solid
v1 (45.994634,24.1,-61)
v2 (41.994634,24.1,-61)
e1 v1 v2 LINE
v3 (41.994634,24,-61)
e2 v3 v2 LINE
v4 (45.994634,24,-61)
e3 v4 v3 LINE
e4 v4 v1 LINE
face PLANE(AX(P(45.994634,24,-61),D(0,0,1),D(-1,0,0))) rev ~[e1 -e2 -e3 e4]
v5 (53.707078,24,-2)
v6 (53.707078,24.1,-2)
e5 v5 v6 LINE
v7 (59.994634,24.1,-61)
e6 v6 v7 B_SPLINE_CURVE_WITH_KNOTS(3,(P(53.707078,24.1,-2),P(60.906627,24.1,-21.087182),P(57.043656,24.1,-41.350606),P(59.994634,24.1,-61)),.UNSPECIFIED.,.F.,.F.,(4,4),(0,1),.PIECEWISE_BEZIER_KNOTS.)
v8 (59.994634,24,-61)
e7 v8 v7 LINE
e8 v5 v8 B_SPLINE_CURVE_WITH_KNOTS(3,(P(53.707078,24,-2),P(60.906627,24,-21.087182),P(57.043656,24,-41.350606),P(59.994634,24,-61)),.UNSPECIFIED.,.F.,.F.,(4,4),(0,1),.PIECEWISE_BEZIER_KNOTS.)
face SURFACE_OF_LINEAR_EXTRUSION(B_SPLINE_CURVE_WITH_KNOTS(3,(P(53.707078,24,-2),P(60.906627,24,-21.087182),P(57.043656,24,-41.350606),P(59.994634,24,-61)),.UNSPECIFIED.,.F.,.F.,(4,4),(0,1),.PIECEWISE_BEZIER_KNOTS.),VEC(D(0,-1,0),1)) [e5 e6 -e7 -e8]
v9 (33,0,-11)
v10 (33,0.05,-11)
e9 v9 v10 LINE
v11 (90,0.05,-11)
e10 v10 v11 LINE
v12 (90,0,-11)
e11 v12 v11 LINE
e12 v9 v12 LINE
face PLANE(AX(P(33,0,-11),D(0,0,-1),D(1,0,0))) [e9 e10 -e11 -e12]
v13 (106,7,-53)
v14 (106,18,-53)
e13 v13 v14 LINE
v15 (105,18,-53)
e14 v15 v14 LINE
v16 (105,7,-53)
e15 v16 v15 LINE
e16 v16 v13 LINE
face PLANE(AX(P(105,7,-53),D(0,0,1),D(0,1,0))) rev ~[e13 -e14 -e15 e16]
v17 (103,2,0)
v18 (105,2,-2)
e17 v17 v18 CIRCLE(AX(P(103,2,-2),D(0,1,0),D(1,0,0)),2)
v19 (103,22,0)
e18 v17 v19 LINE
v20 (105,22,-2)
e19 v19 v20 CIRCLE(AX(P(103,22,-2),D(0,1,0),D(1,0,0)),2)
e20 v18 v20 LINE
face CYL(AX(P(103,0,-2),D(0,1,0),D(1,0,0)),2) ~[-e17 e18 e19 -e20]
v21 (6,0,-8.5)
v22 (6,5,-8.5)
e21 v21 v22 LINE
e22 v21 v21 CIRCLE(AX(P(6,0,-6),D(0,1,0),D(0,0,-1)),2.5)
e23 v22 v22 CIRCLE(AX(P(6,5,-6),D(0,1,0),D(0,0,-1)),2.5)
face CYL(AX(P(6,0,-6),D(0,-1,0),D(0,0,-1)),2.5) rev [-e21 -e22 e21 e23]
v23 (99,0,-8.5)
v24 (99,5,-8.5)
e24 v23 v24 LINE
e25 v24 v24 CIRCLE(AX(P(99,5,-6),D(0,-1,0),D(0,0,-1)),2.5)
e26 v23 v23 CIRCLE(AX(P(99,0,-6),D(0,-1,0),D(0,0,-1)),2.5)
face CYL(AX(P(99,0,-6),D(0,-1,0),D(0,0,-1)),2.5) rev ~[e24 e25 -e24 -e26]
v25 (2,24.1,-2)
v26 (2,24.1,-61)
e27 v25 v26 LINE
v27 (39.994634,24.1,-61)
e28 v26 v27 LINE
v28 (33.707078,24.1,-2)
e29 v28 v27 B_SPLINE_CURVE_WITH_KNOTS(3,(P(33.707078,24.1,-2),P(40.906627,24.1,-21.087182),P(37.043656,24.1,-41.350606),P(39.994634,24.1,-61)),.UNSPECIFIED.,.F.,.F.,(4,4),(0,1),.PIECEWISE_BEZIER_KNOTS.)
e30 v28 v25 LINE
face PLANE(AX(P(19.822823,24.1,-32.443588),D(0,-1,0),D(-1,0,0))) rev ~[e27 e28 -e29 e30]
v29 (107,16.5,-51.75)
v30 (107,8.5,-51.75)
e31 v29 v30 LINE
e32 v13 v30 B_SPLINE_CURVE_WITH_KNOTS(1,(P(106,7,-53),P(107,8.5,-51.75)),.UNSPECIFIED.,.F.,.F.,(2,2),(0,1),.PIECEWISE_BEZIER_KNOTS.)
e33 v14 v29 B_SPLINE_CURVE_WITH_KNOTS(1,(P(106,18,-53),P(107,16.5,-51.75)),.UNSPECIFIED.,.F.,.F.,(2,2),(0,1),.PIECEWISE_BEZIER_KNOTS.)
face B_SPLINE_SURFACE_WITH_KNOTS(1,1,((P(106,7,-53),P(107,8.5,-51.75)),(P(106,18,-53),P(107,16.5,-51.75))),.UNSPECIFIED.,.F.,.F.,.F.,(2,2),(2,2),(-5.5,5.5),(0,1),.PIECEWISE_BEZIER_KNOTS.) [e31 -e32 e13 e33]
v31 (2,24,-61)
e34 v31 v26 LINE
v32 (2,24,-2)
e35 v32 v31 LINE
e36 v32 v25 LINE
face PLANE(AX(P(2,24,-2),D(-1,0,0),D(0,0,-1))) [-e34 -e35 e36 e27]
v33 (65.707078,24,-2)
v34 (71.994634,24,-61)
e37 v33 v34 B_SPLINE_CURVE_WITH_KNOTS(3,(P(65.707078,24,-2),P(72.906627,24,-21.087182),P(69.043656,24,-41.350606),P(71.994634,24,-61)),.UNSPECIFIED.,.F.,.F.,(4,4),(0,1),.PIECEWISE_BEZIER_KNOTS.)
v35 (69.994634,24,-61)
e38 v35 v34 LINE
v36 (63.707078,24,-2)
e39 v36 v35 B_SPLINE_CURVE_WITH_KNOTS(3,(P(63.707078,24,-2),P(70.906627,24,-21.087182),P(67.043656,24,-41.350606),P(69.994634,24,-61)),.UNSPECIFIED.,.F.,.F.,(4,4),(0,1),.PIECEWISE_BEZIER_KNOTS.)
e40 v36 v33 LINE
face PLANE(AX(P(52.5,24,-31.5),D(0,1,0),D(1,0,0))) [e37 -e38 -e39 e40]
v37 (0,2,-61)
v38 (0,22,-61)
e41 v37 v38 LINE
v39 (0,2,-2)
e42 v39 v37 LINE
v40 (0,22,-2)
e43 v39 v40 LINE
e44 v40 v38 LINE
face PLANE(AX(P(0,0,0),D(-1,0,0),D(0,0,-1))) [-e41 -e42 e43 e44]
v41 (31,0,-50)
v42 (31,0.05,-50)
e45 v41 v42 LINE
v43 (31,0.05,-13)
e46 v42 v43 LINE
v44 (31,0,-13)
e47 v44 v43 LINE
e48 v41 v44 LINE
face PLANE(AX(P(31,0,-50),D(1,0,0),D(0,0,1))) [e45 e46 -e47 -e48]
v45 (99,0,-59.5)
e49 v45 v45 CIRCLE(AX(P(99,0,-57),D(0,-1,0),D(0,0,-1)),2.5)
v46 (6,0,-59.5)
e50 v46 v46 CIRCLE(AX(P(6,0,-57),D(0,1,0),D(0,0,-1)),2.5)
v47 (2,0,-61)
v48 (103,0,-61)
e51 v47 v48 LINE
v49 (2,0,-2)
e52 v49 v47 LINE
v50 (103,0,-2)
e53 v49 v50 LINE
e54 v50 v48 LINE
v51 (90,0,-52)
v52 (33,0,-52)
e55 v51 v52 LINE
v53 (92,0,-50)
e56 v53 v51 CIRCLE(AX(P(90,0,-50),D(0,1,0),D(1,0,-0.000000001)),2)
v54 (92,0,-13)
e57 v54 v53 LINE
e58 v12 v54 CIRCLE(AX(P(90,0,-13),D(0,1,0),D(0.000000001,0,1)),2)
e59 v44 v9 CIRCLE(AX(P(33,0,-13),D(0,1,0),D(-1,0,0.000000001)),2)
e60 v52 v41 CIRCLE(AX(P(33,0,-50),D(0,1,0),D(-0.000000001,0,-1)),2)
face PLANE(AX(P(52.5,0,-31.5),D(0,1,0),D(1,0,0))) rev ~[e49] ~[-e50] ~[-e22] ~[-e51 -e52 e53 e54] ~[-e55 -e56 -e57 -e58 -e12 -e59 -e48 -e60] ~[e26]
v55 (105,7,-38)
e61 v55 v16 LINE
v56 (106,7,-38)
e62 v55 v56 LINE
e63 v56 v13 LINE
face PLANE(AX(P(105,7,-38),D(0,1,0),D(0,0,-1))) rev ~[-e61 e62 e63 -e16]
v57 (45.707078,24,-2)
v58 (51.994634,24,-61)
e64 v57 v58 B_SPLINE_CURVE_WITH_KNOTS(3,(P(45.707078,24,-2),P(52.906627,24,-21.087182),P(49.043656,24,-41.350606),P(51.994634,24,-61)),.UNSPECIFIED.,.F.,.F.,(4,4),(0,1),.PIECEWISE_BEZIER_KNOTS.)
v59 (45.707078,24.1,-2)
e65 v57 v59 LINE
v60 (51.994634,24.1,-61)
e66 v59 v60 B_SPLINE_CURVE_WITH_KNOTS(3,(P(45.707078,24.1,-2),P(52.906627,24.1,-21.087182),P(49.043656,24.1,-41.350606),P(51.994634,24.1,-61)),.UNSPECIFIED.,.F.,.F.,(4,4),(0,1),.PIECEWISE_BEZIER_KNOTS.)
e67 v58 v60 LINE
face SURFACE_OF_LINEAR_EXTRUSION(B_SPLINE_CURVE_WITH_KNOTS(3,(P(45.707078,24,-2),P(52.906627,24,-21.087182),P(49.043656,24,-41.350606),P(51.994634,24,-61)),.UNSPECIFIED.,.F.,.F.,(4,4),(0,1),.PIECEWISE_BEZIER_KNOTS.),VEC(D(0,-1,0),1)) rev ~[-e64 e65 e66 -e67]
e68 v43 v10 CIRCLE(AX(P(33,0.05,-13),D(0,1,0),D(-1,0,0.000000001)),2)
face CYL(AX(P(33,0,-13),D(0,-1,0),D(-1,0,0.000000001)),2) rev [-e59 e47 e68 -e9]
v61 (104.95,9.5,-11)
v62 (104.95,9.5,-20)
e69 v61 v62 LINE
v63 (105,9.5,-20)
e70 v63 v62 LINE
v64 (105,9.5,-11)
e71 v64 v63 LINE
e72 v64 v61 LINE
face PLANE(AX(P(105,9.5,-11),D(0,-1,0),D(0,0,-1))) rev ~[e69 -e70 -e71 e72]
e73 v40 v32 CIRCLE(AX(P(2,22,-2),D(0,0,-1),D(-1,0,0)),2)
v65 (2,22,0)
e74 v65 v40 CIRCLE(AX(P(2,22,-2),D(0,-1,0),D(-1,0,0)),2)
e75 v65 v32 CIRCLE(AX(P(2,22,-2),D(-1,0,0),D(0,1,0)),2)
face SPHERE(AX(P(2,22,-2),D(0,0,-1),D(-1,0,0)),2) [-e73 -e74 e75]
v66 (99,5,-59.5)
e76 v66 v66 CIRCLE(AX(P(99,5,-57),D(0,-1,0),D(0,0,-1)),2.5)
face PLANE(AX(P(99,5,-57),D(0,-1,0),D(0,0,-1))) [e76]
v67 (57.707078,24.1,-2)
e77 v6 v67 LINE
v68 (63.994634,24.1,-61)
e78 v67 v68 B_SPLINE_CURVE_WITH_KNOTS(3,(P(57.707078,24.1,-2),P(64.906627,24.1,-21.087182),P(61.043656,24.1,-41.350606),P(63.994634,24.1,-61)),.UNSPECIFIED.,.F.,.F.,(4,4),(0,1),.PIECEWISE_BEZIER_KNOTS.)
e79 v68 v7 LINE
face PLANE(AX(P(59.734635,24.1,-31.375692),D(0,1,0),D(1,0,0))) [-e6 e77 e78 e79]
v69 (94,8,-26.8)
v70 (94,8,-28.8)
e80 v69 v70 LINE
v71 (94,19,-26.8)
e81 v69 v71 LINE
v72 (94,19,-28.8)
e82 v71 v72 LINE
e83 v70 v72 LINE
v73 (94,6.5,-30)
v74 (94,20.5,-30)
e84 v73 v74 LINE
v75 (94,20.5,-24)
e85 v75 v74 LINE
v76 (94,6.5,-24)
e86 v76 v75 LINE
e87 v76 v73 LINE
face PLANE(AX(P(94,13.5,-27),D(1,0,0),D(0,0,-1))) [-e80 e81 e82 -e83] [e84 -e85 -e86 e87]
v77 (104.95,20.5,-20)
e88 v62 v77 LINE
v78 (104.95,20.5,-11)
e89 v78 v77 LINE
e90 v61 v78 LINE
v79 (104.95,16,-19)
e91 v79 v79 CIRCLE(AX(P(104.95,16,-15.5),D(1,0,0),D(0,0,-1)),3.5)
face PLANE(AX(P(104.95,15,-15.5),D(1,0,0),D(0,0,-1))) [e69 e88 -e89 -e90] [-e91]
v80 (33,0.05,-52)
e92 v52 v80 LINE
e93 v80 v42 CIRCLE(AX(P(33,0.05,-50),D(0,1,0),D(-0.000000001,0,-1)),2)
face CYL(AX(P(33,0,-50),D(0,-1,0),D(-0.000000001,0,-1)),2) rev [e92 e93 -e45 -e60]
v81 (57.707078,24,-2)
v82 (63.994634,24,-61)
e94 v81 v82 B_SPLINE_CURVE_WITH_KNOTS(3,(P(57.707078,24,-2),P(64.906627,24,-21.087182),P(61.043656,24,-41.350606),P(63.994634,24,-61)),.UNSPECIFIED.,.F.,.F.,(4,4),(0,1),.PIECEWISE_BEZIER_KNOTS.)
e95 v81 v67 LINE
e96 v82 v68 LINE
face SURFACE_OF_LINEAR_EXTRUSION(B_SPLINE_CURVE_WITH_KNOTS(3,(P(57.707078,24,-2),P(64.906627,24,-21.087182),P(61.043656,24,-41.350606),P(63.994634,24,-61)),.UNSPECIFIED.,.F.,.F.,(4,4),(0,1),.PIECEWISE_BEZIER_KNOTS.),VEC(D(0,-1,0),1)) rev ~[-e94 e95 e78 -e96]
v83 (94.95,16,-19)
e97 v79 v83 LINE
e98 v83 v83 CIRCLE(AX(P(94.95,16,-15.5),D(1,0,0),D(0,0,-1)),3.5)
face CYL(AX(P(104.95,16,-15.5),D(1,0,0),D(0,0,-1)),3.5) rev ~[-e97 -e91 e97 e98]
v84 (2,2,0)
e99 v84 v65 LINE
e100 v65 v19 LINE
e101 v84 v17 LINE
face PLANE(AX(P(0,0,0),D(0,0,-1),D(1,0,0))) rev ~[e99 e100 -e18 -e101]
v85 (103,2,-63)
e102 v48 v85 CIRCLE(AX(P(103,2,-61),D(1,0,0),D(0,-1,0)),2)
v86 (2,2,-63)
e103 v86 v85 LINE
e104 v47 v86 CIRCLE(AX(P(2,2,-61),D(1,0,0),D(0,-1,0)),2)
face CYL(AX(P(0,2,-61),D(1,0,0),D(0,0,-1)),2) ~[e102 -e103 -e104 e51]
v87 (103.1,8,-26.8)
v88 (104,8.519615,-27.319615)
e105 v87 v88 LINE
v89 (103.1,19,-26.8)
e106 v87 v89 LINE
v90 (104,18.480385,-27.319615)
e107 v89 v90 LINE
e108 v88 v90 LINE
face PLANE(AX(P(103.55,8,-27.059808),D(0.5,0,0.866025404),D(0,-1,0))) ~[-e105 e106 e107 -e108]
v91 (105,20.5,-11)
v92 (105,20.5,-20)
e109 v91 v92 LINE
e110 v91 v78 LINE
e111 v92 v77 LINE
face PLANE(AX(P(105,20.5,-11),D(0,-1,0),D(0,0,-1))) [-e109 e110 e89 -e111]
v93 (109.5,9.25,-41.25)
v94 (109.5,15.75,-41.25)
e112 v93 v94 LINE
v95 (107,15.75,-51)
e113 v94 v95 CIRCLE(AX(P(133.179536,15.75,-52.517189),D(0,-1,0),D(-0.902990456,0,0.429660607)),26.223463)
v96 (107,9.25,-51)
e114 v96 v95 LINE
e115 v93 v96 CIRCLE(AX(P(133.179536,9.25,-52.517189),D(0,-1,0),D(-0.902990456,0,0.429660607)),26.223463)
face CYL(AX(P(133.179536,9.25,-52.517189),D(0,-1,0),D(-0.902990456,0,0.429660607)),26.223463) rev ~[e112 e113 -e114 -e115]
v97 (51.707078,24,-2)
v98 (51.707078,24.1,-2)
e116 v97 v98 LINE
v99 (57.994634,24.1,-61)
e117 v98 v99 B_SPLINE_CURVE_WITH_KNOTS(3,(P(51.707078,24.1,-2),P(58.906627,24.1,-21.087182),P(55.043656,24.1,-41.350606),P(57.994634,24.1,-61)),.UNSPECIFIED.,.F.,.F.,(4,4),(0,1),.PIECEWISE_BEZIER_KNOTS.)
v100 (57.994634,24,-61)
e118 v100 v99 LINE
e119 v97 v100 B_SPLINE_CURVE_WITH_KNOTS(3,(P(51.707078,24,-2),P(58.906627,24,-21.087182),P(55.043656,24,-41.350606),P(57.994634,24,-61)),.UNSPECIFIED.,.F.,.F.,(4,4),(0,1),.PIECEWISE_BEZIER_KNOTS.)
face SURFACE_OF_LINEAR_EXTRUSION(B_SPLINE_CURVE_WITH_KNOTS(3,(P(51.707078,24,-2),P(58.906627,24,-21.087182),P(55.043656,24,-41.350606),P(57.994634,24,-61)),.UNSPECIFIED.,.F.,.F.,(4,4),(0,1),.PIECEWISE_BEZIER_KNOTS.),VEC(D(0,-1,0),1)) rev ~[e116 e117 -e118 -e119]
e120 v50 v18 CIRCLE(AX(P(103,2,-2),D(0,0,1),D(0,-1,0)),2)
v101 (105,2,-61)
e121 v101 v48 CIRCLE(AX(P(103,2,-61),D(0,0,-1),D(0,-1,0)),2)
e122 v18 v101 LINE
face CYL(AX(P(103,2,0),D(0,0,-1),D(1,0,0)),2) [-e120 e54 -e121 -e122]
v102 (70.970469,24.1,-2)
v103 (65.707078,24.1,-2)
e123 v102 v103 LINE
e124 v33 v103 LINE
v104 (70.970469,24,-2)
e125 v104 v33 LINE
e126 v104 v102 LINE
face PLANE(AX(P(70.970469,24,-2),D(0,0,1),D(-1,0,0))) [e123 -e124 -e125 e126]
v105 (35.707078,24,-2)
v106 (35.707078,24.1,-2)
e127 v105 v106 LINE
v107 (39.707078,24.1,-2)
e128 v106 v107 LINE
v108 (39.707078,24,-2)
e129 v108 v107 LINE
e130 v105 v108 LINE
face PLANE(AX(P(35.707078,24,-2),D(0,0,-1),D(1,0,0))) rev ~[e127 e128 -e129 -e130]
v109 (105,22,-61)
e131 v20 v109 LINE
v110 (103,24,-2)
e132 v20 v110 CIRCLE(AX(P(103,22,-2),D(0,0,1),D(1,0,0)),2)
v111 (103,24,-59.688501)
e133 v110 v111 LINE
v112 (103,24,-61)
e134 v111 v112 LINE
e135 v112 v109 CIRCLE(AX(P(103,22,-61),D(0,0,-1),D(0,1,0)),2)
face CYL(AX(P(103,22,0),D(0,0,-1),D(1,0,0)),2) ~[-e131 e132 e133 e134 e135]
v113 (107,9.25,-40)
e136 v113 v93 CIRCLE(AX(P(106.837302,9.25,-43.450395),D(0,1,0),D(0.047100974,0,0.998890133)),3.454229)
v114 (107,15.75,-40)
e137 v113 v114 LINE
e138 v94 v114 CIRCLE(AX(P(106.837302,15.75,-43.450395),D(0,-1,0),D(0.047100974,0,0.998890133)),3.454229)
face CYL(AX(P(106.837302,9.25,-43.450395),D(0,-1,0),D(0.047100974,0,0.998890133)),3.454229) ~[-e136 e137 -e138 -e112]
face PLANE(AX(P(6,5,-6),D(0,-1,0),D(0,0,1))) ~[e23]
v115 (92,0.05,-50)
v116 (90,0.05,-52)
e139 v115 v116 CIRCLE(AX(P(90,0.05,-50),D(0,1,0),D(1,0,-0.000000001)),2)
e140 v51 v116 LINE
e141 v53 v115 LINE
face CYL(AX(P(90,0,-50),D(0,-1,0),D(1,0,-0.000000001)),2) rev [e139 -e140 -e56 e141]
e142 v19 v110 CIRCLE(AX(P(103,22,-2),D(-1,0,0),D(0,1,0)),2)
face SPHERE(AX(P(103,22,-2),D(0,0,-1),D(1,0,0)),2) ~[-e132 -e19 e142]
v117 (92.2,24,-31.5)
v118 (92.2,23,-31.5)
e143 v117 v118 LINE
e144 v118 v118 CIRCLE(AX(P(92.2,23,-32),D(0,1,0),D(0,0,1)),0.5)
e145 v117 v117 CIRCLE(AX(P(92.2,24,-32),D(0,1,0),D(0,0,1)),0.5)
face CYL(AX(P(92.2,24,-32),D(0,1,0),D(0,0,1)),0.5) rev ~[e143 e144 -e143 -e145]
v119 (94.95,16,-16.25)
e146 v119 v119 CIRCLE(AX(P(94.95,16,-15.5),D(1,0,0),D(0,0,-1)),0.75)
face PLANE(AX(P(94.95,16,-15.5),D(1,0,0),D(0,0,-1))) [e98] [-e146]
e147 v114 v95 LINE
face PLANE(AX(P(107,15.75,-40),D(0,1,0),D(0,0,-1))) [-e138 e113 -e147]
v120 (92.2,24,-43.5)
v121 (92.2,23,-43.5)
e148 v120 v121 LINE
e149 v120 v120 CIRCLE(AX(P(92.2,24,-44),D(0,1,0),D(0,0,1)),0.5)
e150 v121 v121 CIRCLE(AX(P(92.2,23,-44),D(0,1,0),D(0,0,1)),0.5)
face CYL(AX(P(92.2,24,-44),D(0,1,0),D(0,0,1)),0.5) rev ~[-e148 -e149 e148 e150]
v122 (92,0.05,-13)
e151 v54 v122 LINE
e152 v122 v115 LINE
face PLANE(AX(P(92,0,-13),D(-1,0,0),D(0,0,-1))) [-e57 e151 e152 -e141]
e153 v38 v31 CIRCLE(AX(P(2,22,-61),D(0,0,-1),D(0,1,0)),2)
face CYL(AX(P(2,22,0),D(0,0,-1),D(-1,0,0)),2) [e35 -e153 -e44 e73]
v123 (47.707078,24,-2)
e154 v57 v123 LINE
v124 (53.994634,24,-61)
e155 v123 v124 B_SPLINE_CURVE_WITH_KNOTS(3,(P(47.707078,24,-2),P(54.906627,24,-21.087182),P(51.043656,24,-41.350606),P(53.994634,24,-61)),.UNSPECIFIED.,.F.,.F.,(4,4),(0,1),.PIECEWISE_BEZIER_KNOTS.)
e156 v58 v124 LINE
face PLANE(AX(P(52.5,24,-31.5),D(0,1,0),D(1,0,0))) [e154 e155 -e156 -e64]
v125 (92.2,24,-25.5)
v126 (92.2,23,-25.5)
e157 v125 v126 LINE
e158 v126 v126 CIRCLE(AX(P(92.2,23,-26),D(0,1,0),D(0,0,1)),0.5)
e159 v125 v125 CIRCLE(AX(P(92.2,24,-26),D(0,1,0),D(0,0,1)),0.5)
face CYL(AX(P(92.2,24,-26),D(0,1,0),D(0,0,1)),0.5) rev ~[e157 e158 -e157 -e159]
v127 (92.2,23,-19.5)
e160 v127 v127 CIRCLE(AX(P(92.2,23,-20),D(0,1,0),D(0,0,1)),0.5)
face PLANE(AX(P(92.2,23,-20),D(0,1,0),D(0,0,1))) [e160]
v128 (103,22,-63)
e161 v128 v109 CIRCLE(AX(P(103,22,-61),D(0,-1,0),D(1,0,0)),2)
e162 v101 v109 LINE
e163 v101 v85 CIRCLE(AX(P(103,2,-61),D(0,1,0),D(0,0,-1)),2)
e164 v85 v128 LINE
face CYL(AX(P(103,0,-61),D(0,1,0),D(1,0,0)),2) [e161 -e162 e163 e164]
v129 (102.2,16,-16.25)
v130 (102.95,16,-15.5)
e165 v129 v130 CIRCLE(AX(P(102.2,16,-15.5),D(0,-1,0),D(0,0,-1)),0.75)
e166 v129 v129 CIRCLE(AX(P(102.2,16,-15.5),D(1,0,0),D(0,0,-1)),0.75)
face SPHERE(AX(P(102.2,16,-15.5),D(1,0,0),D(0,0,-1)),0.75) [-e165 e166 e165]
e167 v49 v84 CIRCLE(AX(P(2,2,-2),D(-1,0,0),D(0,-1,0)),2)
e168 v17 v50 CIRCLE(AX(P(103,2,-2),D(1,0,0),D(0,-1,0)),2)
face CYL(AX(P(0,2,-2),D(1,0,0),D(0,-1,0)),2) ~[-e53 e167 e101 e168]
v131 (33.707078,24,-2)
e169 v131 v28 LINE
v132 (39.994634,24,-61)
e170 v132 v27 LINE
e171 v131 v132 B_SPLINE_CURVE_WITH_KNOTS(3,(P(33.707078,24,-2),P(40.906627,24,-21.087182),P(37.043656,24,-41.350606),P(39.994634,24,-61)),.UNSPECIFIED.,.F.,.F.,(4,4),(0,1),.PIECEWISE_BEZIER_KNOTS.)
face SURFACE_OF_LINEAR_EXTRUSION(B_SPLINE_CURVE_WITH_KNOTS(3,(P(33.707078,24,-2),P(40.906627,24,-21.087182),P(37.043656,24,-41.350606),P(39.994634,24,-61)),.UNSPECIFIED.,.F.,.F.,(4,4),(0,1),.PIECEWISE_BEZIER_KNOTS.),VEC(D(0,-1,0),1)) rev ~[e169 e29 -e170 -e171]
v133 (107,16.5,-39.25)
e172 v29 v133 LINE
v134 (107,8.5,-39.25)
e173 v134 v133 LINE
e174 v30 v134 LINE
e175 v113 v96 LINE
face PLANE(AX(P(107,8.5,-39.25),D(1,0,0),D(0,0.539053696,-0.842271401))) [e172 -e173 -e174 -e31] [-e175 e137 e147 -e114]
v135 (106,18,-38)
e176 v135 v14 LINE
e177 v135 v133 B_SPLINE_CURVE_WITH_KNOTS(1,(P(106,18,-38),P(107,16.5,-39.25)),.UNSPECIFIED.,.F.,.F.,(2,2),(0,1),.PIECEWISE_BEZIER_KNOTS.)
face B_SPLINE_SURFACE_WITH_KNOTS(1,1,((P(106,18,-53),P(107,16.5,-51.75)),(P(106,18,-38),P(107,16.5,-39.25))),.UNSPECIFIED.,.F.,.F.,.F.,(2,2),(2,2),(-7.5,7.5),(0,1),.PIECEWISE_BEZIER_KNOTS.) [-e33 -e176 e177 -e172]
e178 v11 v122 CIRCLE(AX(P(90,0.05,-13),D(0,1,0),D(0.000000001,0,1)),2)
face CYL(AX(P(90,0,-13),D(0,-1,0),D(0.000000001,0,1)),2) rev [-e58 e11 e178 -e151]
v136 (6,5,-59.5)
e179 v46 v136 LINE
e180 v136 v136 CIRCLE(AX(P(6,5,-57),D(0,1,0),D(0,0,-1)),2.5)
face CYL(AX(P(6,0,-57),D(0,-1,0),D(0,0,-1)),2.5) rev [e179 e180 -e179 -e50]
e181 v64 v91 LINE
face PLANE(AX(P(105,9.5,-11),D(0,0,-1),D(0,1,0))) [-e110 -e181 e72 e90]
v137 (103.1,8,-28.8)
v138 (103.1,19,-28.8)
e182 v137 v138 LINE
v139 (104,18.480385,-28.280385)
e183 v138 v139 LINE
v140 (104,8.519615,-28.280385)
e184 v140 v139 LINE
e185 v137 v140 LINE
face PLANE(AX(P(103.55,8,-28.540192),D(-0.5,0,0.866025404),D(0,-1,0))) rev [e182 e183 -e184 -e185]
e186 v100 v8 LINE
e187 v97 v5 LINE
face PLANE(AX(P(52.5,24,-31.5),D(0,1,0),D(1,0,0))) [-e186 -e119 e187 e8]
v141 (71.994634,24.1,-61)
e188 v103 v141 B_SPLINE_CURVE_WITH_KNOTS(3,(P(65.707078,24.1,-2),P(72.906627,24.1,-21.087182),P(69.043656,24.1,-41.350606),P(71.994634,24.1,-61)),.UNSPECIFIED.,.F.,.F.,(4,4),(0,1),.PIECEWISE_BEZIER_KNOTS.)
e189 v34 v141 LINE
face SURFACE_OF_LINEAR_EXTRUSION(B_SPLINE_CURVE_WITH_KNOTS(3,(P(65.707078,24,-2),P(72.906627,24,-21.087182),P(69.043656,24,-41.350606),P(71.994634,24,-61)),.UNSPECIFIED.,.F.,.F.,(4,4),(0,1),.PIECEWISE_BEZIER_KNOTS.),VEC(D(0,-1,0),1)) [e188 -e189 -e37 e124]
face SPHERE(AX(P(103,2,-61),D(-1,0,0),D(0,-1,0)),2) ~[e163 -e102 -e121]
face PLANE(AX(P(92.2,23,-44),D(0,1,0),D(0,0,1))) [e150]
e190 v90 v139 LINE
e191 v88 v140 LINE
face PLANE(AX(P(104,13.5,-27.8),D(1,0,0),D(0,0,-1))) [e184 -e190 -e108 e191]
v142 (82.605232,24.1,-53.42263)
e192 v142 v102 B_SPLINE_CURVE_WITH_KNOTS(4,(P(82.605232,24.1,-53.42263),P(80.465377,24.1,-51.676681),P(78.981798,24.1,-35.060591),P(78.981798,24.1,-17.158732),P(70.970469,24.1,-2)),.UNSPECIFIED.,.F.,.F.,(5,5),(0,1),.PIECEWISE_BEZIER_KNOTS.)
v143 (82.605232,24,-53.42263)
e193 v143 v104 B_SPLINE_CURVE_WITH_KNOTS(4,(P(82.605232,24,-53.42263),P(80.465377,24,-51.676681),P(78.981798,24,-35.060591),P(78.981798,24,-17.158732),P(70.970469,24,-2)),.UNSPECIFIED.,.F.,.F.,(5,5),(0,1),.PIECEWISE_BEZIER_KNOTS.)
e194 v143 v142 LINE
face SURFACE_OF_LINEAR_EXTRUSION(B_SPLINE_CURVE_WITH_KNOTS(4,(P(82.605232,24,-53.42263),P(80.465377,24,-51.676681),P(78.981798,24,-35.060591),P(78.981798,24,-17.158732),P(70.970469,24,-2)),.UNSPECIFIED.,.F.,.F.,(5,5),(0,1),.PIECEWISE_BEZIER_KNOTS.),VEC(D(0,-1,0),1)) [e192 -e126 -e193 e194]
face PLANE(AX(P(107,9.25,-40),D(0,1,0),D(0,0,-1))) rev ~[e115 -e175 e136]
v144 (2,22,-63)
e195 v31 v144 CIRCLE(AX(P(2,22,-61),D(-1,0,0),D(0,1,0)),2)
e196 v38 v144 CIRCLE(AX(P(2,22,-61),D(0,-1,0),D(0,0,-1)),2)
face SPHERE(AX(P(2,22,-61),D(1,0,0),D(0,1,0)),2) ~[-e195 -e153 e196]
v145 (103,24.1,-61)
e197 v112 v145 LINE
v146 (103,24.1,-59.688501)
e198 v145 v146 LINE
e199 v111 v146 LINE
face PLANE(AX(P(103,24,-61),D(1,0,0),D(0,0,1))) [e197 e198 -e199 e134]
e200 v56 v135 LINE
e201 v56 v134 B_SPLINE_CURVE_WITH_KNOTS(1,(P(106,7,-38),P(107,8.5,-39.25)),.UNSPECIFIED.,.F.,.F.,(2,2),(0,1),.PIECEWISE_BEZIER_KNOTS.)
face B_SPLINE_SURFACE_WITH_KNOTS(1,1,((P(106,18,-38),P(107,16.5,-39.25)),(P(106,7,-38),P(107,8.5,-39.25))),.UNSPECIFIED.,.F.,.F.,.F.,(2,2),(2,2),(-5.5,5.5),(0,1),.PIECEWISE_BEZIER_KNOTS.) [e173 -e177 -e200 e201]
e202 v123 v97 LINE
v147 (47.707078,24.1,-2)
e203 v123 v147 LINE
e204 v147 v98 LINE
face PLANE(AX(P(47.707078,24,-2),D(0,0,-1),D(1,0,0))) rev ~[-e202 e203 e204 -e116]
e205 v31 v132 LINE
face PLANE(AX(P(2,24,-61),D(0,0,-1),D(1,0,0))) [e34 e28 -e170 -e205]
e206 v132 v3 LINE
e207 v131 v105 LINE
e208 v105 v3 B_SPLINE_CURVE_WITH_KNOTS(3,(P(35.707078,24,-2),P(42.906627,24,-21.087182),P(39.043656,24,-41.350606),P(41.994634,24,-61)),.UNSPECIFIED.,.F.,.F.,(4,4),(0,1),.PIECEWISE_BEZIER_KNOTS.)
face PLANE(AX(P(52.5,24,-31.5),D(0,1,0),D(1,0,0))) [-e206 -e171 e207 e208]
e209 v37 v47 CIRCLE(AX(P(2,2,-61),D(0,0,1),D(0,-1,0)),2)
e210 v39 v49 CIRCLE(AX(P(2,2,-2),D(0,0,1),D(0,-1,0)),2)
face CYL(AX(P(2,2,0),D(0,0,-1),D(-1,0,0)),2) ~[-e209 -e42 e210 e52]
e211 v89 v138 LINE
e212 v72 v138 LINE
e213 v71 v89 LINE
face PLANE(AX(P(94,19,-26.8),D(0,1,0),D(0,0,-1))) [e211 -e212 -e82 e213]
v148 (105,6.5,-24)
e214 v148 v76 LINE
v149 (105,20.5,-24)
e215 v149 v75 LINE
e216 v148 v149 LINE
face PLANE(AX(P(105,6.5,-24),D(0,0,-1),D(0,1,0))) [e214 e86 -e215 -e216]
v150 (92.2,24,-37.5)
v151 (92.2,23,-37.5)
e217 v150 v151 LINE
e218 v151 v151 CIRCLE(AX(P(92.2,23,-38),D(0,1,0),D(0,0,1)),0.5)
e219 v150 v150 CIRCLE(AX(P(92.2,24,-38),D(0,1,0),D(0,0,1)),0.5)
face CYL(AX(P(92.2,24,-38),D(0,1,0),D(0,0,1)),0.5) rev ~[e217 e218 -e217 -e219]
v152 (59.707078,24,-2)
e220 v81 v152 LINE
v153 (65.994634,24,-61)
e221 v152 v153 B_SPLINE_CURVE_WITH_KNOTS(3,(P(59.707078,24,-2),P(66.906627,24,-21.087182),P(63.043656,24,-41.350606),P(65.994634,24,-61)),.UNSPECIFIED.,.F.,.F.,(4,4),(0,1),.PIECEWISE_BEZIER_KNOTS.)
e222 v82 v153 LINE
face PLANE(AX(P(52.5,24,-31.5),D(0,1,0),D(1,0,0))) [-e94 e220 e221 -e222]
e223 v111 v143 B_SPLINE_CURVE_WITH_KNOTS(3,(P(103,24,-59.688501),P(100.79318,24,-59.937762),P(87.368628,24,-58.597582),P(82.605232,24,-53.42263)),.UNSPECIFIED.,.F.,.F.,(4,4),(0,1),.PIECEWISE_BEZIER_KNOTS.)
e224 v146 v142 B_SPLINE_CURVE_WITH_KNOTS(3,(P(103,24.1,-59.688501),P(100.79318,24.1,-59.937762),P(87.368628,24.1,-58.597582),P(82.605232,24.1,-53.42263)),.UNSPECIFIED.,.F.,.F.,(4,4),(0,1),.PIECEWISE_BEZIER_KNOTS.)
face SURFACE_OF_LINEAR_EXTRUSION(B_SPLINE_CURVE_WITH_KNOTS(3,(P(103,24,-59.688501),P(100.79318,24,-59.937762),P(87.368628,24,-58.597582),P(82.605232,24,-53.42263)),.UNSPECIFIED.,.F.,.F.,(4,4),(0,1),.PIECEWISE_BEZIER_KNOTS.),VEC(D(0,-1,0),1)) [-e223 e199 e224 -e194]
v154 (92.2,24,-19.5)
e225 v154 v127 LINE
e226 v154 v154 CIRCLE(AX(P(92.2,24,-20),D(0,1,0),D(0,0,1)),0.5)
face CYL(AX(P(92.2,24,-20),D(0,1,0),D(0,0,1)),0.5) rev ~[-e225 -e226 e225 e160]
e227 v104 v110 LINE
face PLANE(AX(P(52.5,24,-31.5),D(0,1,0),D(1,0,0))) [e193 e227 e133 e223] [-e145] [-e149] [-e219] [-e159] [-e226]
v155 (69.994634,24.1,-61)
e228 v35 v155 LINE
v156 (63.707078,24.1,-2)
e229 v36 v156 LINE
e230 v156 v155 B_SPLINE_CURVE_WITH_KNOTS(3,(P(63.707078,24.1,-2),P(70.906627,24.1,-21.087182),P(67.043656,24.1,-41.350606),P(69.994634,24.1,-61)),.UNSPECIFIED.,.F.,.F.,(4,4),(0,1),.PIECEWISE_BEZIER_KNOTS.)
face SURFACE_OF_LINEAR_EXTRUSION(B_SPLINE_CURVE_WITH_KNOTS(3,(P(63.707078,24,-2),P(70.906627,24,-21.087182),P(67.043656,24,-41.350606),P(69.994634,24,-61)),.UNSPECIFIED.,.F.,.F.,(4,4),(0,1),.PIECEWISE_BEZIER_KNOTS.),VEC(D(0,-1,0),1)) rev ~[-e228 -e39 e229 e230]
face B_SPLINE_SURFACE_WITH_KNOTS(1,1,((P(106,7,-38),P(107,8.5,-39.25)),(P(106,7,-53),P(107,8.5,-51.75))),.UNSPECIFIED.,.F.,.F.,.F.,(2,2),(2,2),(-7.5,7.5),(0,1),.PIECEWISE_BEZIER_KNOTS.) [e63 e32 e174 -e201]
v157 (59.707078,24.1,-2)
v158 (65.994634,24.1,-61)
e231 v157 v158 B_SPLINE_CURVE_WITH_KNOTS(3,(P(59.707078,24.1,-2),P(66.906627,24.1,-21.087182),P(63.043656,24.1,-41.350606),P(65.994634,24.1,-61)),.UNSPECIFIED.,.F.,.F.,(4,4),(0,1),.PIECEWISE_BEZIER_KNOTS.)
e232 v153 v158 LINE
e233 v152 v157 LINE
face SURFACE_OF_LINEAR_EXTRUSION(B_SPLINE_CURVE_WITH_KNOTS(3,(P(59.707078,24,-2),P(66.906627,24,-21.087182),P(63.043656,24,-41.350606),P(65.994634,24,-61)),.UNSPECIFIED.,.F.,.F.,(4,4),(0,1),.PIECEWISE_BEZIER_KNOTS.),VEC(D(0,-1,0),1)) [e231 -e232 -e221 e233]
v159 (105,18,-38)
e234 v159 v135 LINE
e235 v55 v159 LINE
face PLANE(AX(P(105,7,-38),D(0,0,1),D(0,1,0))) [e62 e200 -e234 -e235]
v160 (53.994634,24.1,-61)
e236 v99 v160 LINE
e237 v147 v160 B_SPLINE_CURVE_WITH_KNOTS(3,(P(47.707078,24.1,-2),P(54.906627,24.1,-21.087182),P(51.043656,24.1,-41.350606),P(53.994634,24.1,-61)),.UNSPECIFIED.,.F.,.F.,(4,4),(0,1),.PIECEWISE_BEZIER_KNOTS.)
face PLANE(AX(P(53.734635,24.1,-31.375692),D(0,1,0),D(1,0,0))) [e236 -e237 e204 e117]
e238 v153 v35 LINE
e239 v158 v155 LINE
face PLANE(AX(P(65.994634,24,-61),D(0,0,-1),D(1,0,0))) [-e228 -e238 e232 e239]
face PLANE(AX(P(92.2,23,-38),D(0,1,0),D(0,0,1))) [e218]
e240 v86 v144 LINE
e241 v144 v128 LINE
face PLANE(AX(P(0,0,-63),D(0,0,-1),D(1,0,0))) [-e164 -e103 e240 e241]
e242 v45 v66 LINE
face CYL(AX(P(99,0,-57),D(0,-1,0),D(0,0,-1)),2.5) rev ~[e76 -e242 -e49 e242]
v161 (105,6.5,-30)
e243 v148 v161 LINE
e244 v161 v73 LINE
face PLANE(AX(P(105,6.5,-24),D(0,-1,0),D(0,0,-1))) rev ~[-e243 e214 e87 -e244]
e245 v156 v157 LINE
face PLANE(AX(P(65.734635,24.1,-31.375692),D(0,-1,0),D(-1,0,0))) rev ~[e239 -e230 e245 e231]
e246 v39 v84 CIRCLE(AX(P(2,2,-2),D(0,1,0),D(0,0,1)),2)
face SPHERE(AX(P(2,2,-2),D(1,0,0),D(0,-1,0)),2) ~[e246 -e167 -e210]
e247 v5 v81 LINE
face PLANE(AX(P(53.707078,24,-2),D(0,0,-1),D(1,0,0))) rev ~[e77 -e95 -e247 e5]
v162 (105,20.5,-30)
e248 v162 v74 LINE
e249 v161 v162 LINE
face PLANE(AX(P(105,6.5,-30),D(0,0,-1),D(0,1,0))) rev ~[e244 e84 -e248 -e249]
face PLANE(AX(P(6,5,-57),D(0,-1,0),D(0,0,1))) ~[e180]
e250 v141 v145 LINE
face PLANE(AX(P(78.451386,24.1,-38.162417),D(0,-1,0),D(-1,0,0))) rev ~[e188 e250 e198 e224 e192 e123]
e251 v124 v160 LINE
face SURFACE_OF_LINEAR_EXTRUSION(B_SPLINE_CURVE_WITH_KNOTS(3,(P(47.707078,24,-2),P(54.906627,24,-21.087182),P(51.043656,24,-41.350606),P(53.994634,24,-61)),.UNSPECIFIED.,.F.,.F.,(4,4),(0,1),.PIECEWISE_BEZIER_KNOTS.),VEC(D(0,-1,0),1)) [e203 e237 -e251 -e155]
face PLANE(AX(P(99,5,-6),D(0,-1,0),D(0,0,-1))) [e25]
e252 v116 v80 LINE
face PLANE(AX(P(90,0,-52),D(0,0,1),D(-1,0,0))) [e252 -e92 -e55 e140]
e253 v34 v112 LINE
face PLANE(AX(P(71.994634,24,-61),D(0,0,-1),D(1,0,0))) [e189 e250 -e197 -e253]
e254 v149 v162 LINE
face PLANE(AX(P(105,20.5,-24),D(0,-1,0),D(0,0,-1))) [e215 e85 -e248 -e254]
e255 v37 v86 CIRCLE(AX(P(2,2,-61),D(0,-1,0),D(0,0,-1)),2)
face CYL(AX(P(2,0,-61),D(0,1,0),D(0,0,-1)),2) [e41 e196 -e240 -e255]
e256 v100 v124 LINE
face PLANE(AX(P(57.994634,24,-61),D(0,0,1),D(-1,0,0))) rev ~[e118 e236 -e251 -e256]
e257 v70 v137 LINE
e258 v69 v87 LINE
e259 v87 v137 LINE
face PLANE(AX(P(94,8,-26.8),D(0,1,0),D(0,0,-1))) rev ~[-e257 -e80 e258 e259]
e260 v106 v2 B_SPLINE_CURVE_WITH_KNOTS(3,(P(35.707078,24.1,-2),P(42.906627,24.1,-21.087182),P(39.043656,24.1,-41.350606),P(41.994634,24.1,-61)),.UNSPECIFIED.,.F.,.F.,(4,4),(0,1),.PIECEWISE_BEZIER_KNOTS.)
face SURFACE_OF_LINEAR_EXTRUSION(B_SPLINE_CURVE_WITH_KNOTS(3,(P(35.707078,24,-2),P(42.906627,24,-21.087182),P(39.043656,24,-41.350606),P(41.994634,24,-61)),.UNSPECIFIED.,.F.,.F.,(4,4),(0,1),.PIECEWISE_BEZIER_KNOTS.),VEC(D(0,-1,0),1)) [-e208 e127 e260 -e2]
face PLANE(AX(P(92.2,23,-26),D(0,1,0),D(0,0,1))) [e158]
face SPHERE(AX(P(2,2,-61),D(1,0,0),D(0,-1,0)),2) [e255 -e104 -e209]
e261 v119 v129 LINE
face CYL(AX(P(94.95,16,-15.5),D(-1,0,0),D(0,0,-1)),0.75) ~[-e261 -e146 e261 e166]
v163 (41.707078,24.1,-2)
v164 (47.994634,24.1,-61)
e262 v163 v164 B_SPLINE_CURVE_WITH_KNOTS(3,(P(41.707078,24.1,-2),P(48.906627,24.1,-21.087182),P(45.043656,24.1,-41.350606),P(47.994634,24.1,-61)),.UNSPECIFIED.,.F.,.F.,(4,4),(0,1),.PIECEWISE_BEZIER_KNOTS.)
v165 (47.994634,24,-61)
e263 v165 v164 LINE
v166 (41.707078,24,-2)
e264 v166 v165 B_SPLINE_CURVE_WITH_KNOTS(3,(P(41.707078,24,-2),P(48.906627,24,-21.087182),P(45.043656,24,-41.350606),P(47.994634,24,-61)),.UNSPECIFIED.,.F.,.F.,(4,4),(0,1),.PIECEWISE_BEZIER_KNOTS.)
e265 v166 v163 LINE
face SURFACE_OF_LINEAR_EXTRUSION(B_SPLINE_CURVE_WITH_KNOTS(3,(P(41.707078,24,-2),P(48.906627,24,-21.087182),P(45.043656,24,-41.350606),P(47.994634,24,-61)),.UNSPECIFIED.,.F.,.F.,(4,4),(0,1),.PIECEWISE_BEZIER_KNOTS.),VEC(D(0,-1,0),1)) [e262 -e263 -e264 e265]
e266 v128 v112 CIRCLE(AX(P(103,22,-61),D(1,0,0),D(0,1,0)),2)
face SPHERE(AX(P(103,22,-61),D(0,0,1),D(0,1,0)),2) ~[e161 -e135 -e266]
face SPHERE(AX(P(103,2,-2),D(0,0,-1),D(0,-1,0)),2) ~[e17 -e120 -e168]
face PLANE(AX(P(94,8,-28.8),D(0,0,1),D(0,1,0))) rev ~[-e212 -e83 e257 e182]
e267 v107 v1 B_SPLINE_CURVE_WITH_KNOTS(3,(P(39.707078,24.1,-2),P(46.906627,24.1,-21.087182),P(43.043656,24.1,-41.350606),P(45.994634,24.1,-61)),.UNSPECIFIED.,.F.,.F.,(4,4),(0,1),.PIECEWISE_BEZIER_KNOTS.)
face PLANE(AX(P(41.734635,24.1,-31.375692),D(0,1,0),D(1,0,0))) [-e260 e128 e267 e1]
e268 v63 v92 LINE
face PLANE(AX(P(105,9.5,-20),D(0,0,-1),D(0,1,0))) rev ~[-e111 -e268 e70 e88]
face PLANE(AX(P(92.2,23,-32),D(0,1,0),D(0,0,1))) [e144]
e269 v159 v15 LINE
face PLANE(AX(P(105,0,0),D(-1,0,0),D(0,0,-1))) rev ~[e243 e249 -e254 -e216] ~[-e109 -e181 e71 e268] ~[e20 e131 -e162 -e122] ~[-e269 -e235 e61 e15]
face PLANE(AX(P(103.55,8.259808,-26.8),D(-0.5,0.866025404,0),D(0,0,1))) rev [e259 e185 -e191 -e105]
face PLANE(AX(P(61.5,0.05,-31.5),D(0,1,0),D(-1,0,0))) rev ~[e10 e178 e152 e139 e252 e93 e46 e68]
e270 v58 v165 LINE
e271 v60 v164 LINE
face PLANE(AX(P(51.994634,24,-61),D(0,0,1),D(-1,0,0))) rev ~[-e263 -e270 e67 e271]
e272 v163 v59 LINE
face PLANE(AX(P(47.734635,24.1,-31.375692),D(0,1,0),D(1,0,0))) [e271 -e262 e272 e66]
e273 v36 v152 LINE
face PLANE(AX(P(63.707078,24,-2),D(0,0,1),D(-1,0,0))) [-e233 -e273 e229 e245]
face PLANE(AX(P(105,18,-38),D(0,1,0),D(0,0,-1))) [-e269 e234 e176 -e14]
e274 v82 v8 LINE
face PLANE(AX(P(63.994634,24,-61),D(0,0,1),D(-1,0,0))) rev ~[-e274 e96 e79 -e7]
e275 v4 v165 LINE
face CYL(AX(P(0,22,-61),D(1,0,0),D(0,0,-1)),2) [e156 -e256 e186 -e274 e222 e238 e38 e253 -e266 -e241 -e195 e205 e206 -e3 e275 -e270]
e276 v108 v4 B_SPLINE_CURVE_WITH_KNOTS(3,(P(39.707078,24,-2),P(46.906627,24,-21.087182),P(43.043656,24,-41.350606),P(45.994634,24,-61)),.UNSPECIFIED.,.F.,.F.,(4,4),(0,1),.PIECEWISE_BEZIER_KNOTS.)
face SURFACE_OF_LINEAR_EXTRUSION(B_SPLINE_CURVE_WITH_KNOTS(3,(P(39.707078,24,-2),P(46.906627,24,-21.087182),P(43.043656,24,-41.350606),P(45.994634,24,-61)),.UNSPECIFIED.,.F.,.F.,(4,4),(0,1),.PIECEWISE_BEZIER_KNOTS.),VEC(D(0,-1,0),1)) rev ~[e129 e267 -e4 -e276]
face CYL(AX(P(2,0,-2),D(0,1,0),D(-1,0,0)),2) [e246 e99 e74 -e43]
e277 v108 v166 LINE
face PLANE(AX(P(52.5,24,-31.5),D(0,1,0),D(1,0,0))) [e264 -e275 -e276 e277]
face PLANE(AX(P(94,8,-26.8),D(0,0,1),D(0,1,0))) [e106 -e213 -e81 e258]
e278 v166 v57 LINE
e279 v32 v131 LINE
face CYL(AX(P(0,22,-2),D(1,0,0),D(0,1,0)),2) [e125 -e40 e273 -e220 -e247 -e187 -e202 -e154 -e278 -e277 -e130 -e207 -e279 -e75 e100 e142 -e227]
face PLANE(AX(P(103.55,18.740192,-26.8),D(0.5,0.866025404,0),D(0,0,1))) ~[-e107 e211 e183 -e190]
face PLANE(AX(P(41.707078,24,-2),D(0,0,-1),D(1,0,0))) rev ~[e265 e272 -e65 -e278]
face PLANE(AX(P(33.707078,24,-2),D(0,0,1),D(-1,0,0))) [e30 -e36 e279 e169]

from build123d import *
from OCP.BRepFilletAPI import BRepFilletAPI_MakeChamfer

# Parameters (mm, degrees)
SKETCH2_W           = 105
SKETCH2_H           = 63
BOSS_EXTRUDE1_DEPTH = 24
SKETCH3_W           = 9
SKETCH3_H           = 11
CUT_EXTRUDE1_DEPTH  = 0.05
SKETCH3_3_W         = 6
SKETCH3_3_H         = 14
CUT_EXTRUDE2_DEPTH  = 11
SKETCH3_4_W         = 15
SKETCH3_4_H         = 11
BOSS_EXTRUDE2_DEPTH = 1
SKETCH6_W           = 11
SKETCH6_H           = 6.5
BOSS_EXTRUDE3_DEPTH = 2.5
CUT_EXTRUDE3_DEPTH  = 128.188098893
FILLET1_R           = 2
SKETCH9_R           = 3.5
CUT_EXTRUDE4_DEPTH  = 10
BOSS_EXTRUDE4_DEPTH = 0.1
SKETCH11_R          = 0.5
CUT_EXTRUDE5_DEPTH  = 1
SKETCH12_R          = 2.5
CUT_EXTRUDE6_DEPTH  = 5
CUT_EXTRUDE7_DEPTH  = 0.05
SKETCH14_R          = 0.75
BOSS_EXTRUDE5_DEPTH = 8
FILLET2_R           = 0.75
SKETCH15_W          = 2
SKETCH15_H          = 11
BOSS_EXTRUDE6_DEPTH = 10
CHAMFER2_SIZE       = 0.9
CHAMFER2_SIZE2      = 0.519615242


with BuildPart() as part:
    # Sketch2 → Boss-Extrude1 (new body)
    with BuildSketch(Plane(origin=(0, 0, 0), x_dir=(1, 0, 0), z_dir=(0, 1, 0))):
        with Locations((52.5, 31.5)):
            Rectangle(SKETCH2_W, SKETCH2_H)
    extrude(amount=BOSS_EXTRUDE1_DEPTH)

    # Sketch3 → Cut-Extrude1 (cut)
    with BuildSketch(Plane(origin=(105, 0, 0), x_dir=(0, 0, -1), z_dir=(1, 0, 0))):
        with Locations((15.5, 15)):
            Rectangle(SKETCH3_W, SKETCH3_H)
    extrude(amount=-CUT_EXTRUDE1_DEPTH, mode=Mode.SUBTRACT)

    # Sketch3<3> → Cut-Extrude2 (cut)
    with BuildSketch(Plane(origin=(105, 0, 0), x_dir=(0, 0, -1), z_dir=(1, 0, 0))):
        with Locations((27, 13.5)):
            Rectangle(SKETCH3_3_W, SKETCH3_3_H)
    extrude(amount=-CUT_EXTRUDE2_DEPTH, mode=Mode.SUBTRACT)

    # Sketch3<4> → Boss-Extrude2 (add)
    with BuildSketch(Plane(origin=(105, 0, 0), x_dir=(0, 0, -1), z_dir=(1, 0, 0))):
        with Locations((45.5, 12.5)):
            Rectangle(SKETCH3_4_W, SKETCH3_4_H)
    extrude(amount=BOSS_EXTRUDE2_DEPTH)

    # Sketch5 → section 1 of loft3
    with BuildSketch(Plane(origin=(107, 0, 0), x_dir=(0, 0, -1), z_dir=(1, 0, 0)), mode=Mode.PRIVATE) as loft3_s1:
        with BuildLine():
            Line((39.25, 16.5), (51.75, 16.5))
            Line((51.75, 16.5), (51.75, 8.5))
            Line((51.75, 8.5), (39.25, 8.5))
            Line((39.25, 8.5), (39.25, 16.5))
        make_face()
    # loft from a face of the part (loft3)
    loft([part.faces().sort_by_distance((106, 12.5, -45.5))[0], loft3_s1.sketch])

    # Sketch6 → Boss-Extrude3 (add)
    with BuildSketch(Plane(origin=(107, 0, 0), x_dir=(0, 0, -1), z_dir=(1, 0, 0))):
        with Locations((45.5, 12.5)):
            Rectangle(SKETCH6_W, SKETCH6_H)
    extrude(amount=BOSS_EXTRUDE3_DEPTH)

    # Sketch8 → Cut-Extrude3 (cut, through all)
    with BuildSketch(Plane.XZ.offset(-9.25)):
        with BuildLine():
            ThreePointArc((109.5, -41.25), (107.777815786, -46.003927125), (107, -51))
            Line((107, -51), (109.5, -51))
            Line((109.5, -51), (109.5, -41.25))
        make_face()
        with BuildLine():
            ThreePointArc((107, -40), (108.382080547, -40.360838905), (109.5, -41.25))
            Line((109.5, -41.25), (109.5, -40))
            Line((109.5, -40), (107, -40))
        make_face()
    extrude(amount=-CUT_EXTRUDE3_DEPTH, mode=Mode.SUBTRACT)

    # Fillet1
    fillet1_edges = [part.edges().sort_by_distance(p)[0] for p in [
        (0, 12, 0),
        (0, 0, -31.5),
        (0, 24, -31.5),
        (0, 12, -63),
        (52.5, 24, -63),
        (52.5, 0, -63),
        (105, 12, -63),
        (105, 0, -31.5),
        (105, 24, -31.5),
        (105, 12, 0),
        (52.5, 0, 0),
        (52.5, 24, 0),
    ]]
    fillet(fillet1_edges, radius=FILLET1_R)

    # Sketch9 → Cut-Extrude4 (cut)
    with BuildSketch(Plane(origin=(104.95, 0, 0), x_dir=(0, 0, -1), z_dir=(1, 0, 0))):
        with Locations((15.5, 16)):
            Circle(SKETCH9_R)
    extrude(amount=-CUT_EXTRUDE4_DEPTH, mode=Mode.SUBTRACT)

    # Sketch10 → Boss-Extrude4 (add)
    with BuildSketch(Plane(origin=(0, 24, 0), x_dir=(1, 0, 0), z_dir=(0, 1, 0))):
        with BuildLine():
            Line((70.970468754, 2), (65.707078079, 2))
            add(Edge.make_bspline(
                [(65.707078079, 2), (72.906626661, 21.087182454), (69.043655607, 41.350605764), (71.994633575, 61)],
                knots=[0, 0, 0, 0, 1, 1, 1, 1], degree=3))
            Line((71.994633575, 61), (103, 61))
            Line((103, 61), (103, 59.688500541))
            add(Edge.make_bspline(
                [(103, 59.688500541), (100.793179796, 59.937762049), (87.368628023, 58.597582123), (82.605231661, 53.422629971)],
                knots=[0, 0, 0, 0, 1, 1, 1, 1], degree=3))
            add(Edge.make_bspline(
                [(82.605231661, 53.422629971), (80.465377293, 51.676680645), (78.981797834, 35.060590702), (78.981797834, 17.158731894), (70.970468754, 2)],
                knots=[0, 0, 0, 0, 0, 1, 1, 1, 1, 1], degree=4))
        make_face()
        with BuildLine():
            Line((63.707078079, 2), (59.707078079, 2))
            add(Edge.make_bspline(
                [(59.707078079, 2), (66.906626661, 21.087182454), (63.043655607, 41.350605764), (65.994633575, 61)],
                knots=[0, 0, 0, 0, 1, 1, 1, 1], degree=3))
            Line((65.994633575, 61), (69.994633575, 61))
            add(Edge.make_bspline(
                [(63.707078079, 2), (70.906626661, 21.087182454), (67.043655607, 41.350605764), (69.994633575, 61)],
                knots=[0, 0, 0, 0, 1, 1, 1, 1], degree=3))
        make_face()
        with BuildLine():
            Line((63.994633575, 61), (59.994633575, 61))
            add(Edge.make_bspline(
                [(53.707078079, 2), (60.906626661, 21.087182454), (57.043655607, 41.350605764), (59.994633575, 61)],
                knots=[0, 0, 0, 0, 1, 1, 1, 1], degree=3))
            Line((53.707078079, 2), (57.707078079, 2))
            add(Edge.make_bspline(
                [(57.707078079, 2), (64.906626661, 21.087182454), (61.043655607, 41.350605764), (63.994633575, 61)],
                knots=[0, 0, 0, 0, 1, 1, 1, 1], degree=3))
        make_face()
        with BuildLine():
            Line((57.994633575, 61), (53.994633575, 61))
            add(Edge.make_bspline(
                [(47.707078079, 2), (54.906626661, 21.087182454), (51.043655607, 41.350605764), (53.994633575, 61)],
                knots=[0, 0, 0, 0, 1, 1, 1, 1], degree=3))
            Line((47.707078079, 2), (51.707078079, 2))
            add(Edge.make_bspline(
                [(51.707078079, 2), (58.906626661, 21.087182454), (55.043655607, 41.350605764), (57.994633575, 61)],
                knots=[0, 0, 0, 0, 1, 1, 1, 1], degree=3))
        make_face()
        with BuildLine():
            Line((51.994633575, 61), (47.994633575, 61))
            add(Edge.make_bspline(
                [(41.707078079, 2), (48.906626661, 21.087182454), (45.043655607, 41.350605764), (47.994633575, 61)],
                knots=[0, 0, 0, 0, 1, 1, 1, 1], degree=3))
            Line((41.707078079, 2), (45.707078079, 2))
            add(Edge.make_bspline(
                [(45.707078079, 2), (52.906626661, 21.087182454), (49.043655607, 41.350605764), (51.994633575, 61)],
                knots=[0, 0, 0, 0, 1, 1, 1, 1], degree=3))
        make_face()
        with BuildLine():
            Line((45.994633575, 61), (41.994633575, 61))
            add(Edge.make_bspline(
                [(35.707078079, 2), (42.906626661, 21.087182454), (39.043655607, 41.350605764), (41.994633575, 61)],
                knots=[0, 0, 0, 0, 1, 1, 1, 1], degree=3))
            Line((35.707078079, 2), (39.707078079, 2))
            add(Edge.make_bspline(
                [(39.707078079, 2), (46.906626661, 21.087182454), (43.043655607, 41.350605764), (45.994633575, 61)],
                knots=[0, 0, 0, 0, 1, 1, 1, 1], degree=3))
        make_face()
        with BuildLine():
            Line((33.707078079, 2), (2, 2))
            Line((2, 2), (2, 61))
            Line((2, 61), (39.994633575, 61))
            add(Edge.make_bspline(
                [(33.707078079, 2), (40.906626661, 21.087182454), (37.043655607, 41.350605764), (39.994633575, 61)],
                knots=[0, 0, 0, 0, 1, 1, 1, 1], degree=3))
        make_face()
    extrude(amount=BOSS_EXTRUDE4_DEPTH)

    # Sketch11 → Cut-Extrude5 (cut)
    with BuildSketch(Plane(origin=(0, 24, 0), x_dir=(1, 0, 0), z_dir=(0, 1, 0))):
        with Locations((92.2, 20)):
            Circle(SKETCH11_R)
        with Locations((92.2, 26)):
            Circle(SKETCH11_R)
        with Locations((92.2, 32)):
            Circle(SKETCH11_R)
        with Locations((92.2, 38)):
            Circle(SKETCH11_R)
        with Locations((92.2, 44)):
            Circle(SKETCH11_R)
    extrude(amount=-CUT_EXTRUDE5_DEPTH, mode=Mode.SUBTRACT)

    # Sketch12 → Cut-Extrude6 (cut)
    with BuildSketch(Plane.XZ):
        with Locations((99, -6)):
            Circle(SKETCH12_R)
        with Locations((99, -57)):
            Circle(SKETCH12_R)
    cut_extrude6 = extrude(amount=-CUT_EXTRUDE6_DEPTH, mode=Mode.SUBTRACT)

    # Mirror1: Cut-Extrude6 across plane
    add(cut_extrude6.mirror(Plane(origin=(52.5, 0, 0), x_dir=(0, 0, 1), z_dir=(1, 0, 0))), mode=Mode.SUBTRACT)

    # Sketch13 → Cut-Extrude7 (cut)
    with BuildSketch(Plane.XZ):
        with BuildLine():
            Line((33, -11), (90, -11))
            ThreePointArc((90, -11), (91.414213562, -11.585786438), (92, -13))
            Line((92, -13), (92, -50))
            ThreePointArc((92, -50), (91.414213562, -51.414213562), (90, -52))
            Line((90, -52), (33, -52))
            ThreePointArc((33, -52), (31.585786438, -51.414213562), (31, -50))
            Line((31, -50), (31, -13))
            ThreePointArc((31, -13), (31.585786438, -11.585786438), (33, -11))
        make_face()
    extrude(amount=-CUT_EXTRUDE7_DEPTH, mode=Mode.SUBTRACT)

    # Sketch14 → Boss-Extrude5 (add)
    with BuildSketch(Plane(origin=(94.95, 0, 0), x_dir=(0, 0, -1), z_dir=(1, 0, 0))):
        with Locations((15.5, 16)):
            Circle(SKETCH14_R)
    extrude(amount=BOSS_EXTRUDE5_DEPTH)

    # Fillet2
    fillet2_edges = [part.edges().sort_by_distance(p)[0] for p in [
        (102.95, 16, -14.75),
    ]]
    fillet(fillet2_edges, radius=FILLET2_R)

    # Sketch15 → Boss-Extrude6 (add)
    with BuildSketch(Plane(origin=(94, 0, 0), x_dir=(0, 0, -1), z_dir=(1, 0, 0))):
        with Locations((27.8, 13.5)):
            Rectangle(SKETCH15_W, SKETCH15_H)
    extrude(amount=BOSS_EXTRUDE6_DEPTH)

    # Chamfer2: one chamfer whose edges measure the first distance from different faces: ONE call of the kernel's chamfer builder (chamfer() names one face for all edges)
    chamfer2_edges_1 = [part.edges().sort_by_distance(p)[0] for p in [
        (104, 13.5, -28.8),
    ]]
    chamfer2_side_1 = [part.faces().sort_by_distance(p)[0] for p in [
        (99, 13.5, -28.8),
    ]]
    chamfer2_edges_2 = [part.edges().sort_by_distance(p)[0] for p in [
        (104, 19, -27.8),
    ]]
    chamfer2_side_2 = [part.faces().sort_by_distance(p)[0] for p in [
        (99, 19, -27.8),
    ]]
    chamfer2_edges_3 = [part.edges().sort_by_distance(p)[0] for p in [
        (104, 8, -27.8),
    ]]
    chamfer2_side_3 = [part.faces().sort_by_distance(p)[0] for p in [
        (99, 8, -27.8),
    ]]
    chamfer2_edges_4 = [part.edges().sort_by_distance(p)[0] for p in [
        (104, 13.5, -26.8),
    ]]
    chamfer2_side_4 = [part.faces().sort_by_distance(p)[0] for p in [
        (99, 13.5, -26.8),
    ]]
    chamfer2 = BRepFilletAPI_MakeChamfer(part.part.solid().wrapped)
    for e in chamfer2_edges_1:
        chamfer2.Add(CHAMFER2_SIZE, CHAMFER2_SIZE2, e.wrapped, chamfer2_side_1[0].wrapped)  # the first distance lies on this face
    for e in chamfer2_edges_2:
        chamfer2.Add(CHAMFER2_SIZE, CHAMFER2_SIZE2, e.wrapped, chamfer2_side_2[0].wrapped)  # the first distance lies on this face
    for e in chamfer2_edges_3:
        chamfer2.Add(CHAMFER2_SIZE, CHAMFER2_SIZE2, e.wrapped, chamfer2_side_3[0].wrapped)  # the first distance lies on this face
    for e in chamfer2_edges_4:
        chamfer2.Add(CHAMFER2_SIZE, CHAMFER2_SIZE2, e.wrapped, chamfer2_side_4[0].wrapped)  # the first distance lies on this face
    add(Compound.cast(chamfer2.Shape()), mode=Mode.REPLACE)


solid = part.part
